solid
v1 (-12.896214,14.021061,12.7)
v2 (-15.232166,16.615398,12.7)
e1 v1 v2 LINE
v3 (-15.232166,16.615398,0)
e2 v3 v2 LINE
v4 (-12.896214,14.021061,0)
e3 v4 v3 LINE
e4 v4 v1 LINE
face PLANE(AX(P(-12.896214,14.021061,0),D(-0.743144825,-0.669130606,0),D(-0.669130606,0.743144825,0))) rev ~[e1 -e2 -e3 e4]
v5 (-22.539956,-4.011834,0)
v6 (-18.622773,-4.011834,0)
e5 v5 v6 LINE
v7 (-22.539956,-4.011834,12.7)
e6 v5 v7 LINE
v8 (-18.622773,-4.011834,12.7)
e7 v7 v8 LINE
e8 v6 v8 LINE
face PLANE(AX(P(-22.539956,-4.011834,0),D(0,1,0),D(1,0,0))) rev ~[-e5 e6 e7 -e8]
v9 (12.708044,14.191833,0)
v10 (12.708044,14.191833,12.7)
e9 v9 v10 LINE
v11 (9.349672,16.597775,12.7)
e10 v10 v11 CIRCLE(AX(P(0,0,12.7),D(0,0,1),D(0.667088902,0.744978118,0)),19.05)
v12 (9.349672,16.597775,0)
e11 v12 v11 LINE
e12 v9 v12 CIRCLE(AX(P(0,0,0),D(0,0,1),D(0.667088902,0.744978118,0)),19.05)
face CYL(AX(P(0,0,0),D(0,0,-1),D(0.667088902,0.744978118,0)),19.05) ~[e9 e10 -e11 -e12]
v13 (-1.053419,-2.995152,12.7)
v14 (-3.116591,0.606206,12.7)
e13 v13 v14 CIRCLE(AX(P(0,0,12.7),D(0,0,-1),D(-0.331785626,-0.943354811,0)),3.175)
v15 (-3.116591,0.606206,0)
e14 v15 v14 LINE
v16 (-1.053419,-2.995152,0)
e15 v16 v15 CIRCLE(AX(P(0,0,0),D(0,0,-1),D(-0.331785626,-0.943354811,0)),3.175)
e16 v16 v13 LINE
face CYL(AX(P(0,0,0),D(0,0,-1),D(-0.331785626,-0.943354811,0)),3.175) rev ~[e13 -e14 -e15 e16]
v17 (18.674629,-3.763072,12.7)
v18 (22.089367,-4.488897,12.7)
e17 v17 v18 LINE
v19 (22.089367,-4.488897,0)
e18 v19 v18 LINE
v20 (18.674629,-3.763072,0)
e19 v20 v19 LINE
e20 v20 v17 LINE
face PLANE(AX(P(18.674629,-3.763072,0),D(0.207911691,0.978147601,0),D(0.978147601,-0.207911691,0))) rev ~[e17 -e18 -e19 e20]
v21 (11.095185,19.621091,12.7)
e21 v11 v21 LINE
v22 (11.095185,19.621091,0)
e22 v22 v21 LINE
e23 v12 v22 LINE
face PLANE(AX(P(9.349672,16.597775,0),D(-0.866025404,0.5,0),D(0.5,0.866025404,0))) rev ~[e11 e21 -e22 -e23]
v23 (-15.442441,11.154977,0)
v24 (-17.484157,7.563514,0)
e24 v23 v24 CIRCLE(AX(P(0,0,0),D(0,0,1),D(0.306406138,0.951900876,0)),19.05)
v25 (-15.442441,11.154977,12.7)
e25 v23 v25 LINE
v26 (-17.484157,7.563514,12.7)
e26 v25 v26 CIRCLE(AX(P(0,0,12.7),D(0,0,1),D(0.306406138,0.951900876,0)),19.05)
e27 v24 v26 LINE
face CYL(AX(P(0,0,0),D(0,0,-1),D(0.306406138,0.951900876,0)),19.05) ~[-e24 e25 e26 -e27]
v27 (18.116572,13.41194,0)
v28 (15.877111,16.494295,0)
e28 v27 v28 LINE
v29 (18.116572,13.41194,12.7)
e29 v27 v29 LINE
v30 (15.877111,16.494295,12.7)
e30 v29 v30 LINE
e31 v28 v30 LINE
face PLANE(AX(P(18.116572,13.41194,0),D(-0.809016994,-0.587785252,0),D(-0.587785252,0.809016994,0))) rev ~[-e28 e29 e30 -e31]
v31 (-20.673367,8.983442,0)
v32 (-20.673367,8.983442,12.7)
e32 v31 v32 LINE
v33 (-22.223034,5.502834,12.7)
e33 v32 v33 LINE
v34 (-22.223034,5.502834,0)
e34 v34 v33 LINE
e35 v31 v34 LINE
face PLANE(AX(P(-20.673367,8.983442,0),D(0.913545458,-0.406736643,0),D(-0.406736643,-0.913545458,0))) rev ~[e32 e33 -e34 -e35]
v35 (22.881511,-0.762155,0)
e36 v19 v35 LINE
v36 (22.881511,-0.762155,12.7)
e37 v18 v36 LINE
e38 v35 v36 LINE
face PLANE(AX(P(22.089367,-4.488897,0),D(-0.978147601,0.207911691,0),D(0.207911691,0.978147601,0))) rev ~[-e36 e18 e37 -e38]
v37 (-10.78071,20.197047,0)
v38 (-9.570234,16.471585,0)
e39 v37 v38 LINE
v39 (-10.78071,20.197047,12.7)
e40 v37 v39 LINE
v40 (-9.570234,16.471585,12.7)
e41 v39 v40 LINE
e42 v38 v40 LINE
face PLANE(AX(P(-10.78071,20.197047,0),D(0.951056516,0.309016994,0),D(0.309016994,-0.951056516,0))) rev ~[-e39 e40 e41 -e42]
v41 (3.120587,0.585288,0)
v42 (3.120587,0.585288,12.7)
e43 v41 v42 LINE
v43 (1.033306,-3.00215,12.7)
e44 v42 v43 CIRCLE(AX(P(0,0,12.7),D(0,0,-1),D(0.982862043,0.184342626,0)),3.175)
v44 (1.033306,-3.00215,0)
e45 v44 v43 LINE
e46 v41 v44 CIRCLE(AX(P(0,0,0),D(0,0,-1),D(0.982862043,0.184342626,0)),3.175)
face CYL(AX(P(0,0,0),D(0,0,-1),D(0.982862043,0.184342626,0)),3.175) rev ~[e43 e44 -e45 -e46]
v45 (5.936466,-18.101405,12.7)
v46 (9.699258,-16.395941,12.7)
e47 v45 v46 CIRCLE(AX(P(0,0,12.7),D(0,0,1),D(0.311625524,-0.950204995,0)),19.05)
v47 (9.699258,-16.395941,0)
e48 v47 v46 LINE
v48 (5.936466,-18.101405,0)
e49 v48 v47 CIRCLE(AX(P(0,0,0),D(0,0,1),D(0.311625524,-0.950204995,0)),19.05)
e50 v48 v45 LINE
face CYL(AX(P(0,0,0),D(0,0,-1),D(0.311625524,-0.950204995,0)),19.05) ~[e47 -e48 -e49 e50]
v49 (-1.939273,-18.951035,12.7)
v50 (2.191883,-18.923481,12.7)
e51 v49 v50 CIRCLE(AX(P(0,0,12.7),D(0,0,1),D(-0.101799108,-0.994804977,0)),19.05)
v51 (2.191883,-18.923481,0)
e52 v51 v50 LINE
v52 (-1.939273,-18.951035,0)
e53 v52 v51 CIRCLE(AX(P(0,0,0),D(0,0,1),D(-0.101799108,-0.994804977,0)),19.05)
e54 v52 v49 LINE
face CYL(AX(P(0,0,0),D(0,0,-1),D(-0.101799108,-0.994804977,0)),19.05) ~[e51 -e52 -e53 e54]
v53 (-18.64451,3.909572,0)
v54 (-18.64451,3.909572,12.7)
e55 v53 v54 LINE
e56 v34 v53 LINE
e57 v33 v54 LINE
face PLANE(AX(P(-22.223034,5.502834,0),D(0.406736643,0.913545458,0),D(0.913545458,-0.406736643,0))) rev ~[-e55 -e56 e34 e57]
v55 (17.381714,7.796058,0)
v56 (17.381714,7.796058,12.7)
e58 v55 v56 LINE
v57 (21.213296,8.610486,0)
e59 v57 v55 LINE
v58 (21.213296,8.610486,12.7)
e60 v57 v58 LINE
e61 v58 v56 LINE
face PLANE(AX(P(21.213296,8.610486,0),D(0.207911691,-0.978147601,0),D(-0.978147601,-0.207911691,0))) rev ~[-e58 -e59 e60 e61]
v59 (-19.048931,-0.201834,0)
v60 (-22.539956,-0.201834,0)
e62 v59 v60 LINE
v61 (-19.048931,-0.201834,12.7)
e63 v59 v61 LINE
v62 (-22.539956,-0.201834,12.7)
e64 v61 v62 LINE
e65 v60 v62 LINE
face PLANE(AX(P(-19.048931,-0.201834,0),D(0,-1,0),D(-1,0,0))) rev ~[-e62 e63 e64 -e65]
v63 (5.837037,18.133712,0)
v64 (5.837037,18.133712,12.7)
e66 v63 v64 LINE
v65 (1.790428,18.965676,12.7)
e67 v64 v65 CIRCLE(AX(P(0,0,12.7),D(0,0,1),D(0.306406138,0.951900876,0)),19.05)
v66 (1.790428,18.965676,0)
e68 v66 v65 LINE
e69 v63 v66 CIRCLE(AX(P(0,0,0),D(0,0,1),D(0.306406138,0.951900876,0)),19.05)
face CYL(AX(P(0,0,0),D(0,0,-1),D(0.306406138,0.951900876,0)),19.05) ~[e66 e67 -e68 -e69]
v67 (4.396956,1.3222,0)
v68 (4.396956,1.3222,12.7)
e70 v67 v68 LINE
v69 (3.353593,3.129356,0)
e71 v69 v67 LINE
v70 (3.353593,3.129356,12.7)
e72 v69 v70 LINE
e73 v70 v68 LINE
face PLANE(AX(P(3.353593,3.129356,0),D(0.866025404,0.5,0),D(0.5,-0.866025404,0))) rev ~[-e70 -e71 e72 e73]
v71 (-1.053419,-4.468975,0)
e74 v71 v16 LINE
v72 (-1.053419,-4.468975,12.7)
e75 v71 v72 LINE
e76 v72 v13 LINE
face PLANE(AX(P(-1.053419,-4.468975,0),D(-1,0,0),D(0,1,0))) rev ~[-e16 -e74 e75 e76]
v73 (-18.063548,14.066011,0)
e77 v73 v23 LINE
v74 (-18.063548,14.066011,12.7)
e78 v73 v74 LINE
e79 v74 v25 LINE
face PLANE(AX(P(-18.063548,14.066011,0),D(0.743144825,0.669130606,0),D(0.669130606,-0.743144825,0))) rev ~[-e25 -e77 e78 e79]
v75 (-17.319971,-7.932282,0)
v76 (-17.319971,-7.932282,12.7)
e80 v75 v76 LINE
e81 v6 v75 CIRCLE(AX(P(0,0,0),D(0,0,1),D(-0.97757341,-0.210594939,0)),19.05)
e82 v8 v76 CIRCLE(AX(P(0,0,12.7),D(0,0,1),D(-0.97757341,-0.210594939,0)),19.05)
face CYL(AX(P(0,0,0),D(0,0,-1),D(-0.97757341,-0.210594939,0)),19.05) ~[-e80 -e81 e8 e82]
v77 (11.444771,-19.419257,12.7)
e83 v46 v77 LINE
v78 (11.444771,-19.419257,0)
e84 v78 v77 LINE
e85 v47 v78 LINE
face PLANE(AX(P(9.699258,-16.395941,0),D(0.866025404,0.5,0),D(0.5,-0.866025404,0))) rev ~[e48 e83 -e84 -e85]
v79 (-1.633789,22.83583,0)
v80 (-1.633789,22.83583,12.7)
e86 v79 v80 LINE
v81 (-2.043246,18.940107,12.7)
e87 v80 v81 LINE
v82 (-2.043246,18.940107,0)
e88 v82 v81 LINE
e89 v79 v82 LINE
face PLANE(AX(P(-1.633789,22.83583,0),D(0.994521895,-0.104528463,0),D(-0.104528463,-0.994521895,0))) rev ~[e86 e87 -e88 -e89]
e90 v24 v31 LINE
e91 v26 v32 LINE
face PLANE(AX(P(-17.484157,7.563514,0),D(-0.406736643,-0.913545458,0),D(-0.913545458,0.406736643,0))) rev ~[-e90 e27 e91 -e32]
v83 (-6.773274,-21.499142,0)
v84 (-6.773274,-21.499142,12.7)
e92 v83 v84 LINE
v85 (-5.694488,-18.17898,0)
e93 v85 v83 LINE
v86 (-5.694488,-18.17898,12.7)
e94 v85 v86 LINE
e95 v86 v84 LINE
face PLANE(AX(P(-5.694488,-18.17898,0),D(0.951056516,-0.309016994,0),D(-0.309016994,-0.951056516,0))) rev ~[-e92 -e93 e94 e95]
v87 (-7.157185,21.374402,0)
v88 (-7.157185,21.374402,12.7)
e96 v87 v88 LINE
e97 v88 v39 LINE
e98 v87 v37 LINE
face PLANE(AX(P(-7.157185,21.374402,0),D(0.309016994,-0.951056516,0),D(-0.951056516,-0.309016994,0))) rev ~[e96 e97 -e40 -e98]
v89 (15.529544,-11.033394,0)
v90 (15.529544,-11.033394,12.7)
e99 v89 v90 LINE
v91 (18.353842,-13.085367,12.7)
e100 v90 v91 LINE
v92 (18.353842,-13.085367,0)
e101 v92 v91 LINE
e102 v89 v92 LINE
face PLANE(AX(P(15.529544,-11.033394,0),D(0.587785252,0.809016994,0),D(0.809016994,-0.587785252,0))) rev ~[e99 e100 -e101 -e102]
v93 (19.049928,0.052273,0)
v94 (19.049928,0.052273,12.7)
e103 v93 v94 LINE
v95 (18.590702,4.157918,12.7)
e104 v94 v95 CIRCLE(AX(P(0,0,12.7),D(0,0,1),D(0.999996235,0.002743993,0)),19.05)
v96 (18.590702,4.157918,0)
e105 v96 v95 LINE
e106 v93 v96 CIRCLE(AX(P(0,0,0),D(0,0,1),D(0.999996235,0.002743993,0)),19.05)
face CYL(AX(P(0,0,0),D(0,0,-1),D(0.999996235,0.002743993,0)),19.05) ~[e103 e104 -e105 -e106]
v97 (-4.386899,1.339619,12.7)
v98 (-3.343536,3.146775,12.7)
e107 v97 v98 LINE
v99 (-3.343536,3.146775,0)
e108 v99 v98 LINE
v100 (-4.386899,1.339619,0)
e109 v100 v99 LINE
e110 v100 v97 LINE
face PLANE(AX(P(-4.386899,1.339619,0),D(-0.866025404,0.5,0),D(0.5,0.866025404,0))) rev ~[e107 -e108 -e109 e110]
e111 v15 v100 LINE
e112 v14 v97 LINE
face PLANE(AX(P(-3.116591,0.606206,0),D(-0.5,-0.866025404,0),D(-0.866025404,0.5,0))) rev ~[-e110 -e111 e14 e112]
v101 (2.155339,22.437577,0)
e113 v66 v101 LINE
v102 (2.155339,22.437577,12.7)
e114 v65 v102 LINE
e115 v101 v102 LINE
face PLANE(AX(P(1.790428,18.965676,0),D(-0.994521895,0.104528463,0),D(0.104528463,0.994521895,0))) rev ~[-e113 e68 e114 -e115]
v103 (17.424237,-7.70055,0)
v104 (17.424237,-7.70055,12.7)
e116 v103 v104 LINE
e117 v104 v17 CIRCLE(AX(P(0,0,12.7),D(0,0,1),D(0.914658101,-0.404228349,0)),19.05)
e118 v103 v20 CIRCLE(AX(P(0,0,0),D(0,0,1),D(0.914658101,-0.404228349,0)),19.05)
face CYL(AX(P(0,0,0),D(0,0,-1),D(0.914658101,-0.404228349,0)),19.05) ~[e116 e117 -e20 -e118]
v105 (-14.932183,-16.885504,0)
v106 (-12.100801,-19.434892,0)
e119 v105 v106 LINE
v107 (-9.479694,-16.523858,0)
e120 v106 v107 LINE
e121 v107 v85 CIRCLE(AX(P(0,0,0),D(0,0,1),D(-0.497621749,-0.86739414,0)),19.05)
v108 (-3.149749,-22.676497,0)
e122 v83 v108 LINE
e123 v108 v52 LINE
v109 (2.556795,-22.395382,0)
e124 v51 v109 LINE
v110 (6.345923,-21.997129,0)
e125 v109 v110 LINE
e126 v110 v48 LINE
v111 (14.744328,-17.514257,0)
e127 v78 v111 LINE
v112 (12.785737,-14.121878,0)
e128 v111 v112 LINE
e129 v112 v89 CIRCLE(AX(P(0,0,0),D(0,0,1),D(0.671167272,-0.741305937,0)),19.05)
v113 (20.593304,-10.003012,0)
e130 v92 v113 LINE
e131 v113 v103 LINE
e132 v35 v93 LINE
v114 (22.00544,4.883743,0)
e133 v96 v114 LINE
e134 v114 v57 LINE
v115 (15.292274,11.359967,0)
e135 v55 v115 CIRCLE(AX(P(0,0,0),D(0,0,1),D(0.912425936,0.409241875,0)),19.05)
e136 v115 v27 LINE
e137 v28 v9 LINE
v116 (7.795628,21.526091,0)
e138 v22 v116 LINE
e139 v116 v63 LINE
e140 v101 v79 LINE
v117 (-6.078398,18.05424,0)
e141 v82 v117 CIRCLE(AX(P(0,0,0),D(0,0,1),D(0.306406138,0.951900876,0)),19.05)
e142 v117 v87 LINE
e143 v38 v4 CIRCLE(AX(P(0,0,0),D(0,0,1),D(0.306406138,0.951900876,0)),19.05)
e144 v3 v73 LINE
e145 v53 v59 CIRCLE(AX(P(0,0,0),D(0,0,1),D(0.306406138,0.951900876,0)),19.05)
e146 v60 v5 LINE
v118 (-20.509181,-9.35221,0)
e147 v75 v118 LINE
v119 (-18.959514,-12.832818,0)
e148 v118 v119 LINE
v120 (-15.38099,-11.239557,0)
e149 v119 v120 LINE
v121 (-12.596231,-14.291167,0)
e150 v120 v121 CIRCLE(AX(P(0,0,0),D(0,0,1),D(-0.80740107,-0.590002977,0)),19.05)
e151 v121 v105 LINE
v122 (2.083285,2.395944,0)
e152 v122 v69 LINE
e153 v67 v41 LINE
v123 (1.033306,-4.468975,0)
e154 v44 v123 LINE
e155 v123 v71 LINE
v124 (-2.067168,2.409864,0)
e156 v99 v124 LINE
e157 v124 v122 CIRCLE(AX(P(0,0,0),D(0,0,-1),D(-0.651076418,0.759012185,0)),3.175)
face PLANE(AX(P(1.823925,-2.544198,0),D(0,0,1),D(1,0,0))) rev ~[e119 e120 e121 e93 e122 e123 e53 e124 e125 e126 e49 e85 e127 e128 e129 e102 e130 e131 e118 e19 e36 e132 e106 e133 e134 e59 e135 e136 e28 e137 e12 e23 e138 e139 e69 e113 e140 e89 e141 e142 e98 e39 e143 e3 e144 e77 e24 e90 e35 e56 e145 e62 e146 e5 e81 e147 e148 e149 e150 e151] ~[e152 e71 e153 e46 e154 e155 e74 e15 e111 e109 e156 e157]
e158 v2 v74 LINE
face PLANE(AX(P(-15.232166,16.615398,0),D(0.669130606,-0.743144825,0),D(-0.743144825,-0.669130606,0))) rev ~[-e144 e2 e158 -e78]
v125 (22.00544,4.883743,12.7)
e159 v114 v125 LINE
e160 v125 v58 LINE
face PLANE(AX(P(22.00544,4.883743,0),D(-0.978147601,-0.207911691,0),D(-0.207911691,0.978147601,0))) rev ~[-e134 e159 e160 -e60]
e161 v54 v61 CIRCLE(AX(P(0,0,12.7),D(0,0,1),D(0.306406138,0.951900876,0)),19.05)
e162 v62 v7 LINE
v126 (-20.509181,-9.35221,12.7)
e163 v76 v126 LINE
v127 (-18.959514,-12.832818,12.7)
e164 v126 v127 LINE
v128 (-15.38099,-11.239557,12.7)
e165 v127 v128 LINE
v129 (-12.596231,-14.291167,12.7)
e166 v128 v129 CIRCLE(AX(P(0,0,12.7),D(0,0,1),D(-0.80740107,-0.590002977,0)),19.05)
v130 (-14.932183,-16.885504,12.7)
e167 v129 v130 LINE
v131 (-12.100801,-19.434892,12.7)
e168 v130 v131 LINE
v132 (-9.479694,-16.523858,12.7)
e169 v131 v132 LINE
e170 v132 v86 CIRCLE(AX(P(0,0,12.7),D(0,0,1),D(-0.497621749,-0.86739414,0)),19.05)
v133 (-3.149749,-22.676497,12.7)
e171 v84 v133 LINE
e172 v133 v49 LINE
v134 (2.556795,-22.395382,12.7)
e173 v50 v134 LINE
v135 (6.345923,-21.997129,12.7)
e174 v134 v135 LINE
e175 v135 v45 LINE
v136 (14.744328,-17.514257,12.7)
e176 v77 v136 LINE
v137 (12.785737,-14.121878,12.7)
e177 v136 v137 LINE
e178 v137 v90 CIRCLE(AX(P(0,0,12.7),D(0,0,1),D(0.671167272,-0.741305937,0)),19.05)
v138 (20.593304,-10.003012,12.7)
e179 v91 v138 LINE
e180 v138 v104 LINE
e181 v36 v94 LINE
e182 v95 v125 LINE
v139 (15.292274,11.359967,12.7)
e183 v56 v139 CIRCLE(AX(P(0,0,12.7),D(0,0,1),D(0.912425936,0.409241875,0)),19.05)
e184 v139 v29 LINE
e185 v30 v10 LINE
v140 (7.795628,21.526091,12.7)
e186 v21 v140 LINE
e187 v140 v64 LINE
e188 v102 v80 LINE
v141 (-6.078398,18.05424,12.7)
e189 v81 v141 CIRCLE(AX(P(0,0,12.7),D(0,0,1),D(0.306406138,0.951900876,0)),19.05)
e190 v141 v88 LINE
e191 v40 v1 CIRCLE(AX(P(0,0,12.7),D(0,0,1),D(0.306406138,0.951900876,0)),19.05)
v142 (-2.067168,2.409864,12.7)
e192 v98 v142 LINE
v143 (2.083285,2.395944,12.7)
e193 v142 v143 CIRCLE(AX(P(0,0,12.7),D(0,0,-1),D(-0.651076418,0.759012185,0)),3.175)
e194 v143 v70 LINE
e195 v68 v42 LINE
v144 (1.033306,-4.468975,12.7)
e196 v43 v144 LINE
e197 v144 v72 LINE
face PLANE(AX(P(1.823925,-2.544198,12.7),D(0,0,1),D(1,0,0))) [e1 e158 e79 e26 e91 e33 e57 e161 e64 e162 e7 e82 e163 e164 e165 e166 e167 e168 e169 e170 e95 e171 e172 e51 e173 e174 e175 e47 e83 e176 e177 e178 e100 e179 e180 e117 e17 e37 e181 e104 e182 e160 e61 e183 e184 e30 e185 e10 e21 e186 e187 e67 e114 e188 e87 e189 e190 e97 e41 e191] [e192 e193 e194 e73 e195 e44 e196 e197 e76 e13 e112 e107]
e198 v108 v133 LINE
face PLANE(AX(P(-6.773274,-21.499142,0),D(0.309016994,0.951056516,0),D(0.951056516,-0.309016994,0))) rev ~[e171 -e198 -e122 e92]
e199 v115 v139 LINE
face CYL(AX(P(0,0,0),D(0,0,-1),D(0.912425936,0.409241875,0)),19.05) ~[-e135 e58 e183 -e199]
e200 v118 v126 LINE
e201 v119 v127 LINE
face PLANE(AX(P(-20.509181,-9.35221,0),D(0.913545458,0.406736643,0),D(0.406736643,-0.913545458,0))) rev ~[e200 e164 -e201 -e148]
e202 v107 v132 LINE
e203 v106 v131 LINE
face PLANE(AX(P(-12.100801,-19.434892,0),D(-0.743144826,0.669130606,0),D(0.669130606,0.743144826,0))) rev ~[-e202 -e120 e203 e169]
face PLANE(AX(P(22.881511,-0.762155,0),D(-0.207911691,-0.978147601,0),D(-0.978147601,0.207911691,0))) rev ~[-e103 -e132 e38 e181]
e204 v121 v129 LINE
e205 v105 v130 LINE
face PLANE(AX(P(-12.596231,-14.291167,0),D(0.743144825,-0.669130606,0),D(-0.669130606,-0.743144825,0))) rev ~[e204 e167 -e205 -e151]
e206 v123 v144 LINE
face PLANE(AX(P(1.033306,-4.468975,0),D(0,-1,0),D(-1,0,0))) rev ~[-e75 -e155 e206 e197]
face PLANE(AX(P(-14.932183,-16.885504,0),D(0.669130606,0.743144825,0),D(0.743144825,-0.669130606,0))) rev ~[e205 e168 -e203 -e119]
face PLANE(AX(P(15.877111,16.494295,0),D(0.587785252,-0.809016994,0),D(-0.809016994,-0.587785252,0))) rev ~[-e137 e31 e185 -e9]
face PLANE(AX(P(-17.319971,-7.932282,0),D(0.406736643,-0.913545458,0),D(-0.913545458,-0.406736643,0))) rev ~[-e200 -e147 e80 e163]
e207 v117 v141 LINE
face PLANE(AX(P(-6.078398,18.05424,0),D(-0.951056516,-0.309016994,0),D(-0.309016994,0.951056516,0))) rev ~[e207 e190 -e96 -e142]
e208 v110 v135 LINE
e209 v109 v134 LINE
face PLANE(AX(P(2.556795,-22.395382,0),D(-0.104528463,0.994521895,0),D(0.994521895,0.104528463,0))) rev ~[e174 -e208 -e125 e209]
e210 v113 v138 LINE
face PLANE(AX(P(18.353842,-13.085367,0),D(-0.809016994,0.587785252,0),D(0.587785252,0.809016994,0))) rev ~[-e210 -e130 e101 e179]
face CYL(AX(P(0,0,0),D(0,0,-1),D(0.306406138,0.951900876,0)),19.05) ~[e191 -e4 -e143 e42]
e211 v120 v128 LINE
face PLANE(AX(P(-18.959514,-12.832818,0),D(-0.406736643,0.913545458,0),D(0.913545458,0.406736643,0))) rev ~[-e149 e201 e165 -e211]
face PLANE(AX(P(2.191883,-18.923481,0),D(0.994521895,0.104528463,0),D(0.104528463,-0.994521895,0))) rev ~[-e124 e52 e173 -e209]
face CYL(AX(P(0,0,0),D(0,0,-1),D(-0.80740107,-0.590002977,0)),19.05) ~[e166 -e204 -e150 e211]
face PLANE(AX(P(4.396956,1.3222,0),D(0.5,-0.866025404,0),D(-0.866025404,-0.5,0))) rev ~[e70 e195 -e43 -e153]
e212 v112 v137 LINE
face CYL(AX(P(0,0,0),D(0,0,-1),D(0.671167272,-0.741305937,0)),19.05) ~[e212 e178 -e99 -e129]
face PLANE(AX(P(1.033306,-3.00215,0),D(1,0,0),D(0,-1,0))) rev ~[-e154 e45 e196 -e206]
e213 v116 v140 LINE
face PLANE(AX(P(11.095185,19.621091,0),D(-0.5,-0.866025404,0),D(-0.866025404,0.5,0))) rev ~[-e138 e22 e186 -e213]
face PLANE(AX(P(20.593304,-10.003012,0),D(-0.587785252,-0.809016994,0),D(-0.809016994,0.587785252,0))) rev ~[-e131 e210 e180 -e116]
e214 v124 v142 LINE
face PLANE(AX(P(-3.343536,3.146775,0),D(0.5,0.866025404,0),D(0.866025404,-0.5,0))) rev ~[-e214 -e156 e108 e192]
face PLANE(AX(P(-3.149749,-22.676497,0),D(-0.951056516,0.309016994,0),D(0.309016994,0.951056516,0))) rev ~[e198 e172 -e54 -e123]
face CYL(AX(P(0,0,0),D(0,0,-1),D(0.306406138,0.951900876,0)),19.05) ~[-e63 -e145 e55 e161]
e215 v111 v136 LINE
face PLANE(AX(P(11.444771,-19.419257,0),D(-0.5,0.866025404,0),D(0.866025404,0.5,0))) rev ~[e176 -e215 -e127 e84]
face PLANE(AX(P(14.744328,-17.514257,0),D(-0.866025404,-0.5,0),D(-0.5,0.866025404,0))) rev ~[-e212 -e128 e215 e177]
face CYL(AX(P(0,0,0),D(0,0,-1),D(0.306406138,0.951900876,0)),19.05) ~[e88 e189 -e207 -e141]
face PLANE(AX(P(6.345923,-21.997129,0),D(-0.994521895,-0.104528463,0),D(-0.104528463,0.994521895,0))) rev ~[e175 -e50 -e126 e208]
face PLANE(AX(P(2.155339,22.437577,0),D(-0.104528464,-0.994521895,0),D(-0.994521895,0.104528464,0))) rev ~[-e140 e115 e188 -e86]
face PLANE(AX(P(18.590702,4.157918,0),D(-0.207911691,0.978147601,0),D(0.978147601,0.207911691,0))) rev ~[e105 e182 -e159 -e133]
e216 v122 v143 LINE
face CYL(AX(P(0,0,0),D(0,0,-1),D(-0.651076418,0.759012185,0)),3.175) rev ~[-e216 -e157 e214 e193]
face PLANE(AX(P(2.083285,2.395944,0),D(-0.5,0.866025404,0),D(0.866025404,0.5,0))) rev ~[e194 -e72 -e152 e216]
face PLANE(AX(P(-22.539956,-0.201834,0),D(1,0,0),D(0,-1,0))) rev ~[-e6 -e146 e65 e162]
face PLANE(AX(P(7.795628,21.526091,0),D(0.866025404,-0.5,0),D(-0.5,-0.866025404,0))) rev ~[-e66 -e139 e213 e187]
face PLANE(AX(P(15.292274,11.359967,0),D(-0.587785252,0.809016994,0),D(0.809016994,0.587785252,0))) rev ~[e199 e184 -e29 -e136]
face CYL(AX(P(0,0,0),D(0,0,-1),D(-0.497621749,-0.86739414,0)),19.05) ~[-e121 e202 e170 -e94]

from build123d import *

# Parameters (mm, degrees)
EXTRUSION3_DEPTH = 12.7


with BuildPart() as part:
    # Sketch1 → Extrusion3 (new body)
    with BuildSketch(Plane.XY):
        with BuildLine():
            Line((21.213296498, 8.610485701), (17.381714073, 7.796057715))
            ThreePointArc((17.381714073, 7.796057715), (16.433889851, 9.634820412), (15.292273906, 11.359967376))
            Line((15.292273906, 11.359967376), (18.116572419, 13.411940358))
            Line((18.116572419, 13.411940358), (15.877110608, 16.494295106))
            Line((15.877110608, 16.494295106), (12.708043593, 14.191833146))
            ThreePointArc((12.708043593, 14.191833146), (11.094270913, 15.486111613), (9.349672368, 16.597774749))
            Line((9.349672368, 16.597774749), (11.095184843, 19.621091042))
            Line((11.095184843, 19.621091042), (7.795628055, 21.526091042))
            Line((7.795628055, 21.526091042), (5.837036927, 18.133711697))
            ThreePointArc((5.837036927, 18.133711697), (-11.299849109, 15.336750311), (-19.048930763, -0.201833587))
            Line((-19.048930763, -0.201833587), (-22.539955714, -0.201833587))
            Line((-22.539955714, -0.201833587), (-22.539955714, -4.011833587))
            Line((-22.539955714, -4.011833587), (-18.622773458, -4.011833587))
            ThreePointArc((-18.622773458, -4.011833587), (-18.077961731, -6.007478644), (-17.319971056, -7.932282309))
            Line((-17.319971056, -7.932282309), (-20.509181042, -9.352210079))
            Line((-20.509181042, -9.352210079), (-18.959514432, -12.832818272))
            Line((-18.959514432, -12.832818272), (-15.380990376, -11.239556711))
            ThreePointArc((-15.380990376, -11.239556711), (-14.071578126, -12.841074295), (-12.596231006, -14.291167358))
            Line((-12.596231006, -14.291167358), (-14.932182648, -16.885504485))
            Line((-14.932182648, -16.885504485), (-12.100800863, -19.434892096))
            Line((-12.100800863, -19.434892096), (-9.479694325, -16.523858372))
            ThreePointArc((-9.479694325, -16.523858372), (-7.632090826, -17.454331543), (-5.694488182, -18.178979739))
            Line((-5.694488182, -18.178979739), (-6.77327422, -21.499141767))
            Line((-6.77327422, -21.499141767), (-3.149748893, -22.676496515))
            Line((-3.149748893, -22.676496515), (-1.939273006, -18.951034806))
            ThreePointArc((-1.939273006, -18.951034806), (0.127054312, -19.0495763), (2.191883381, -18.923481372))
            Line((2.191883381, -18.923481372), (2.556794854, -22.395382123))
            Line((2.556794854, -22.395382123), (6.345923276, -21.997128678))
            Line((6.345923276, -21.997128678), (5.936466234, -18.101405157))
            ThreePointArc((5.936466234, -18.101405157), (7.864230606, -17.350976254), (9.699258395, -16.395941162))
            Line((9.699258395, -16.395941162), (11.44477087, -19.419257455))
            Line((11.44477087, -19.419257455), (14.744327659, -17.514257455))
            Line((14.744327659, -17.514257455), (12.785736531, -14.12187811))
            ThreePointArc((12.785736531, -14.12187811), (14.241609984, -12.652234785), (15.529543518, -11.033393772))
            Line((15.529543518, -11.033393772), (18.353842031, -13.085366754))
            Line((18.353842031, -13.085366754), (20.593303842, -10.003012005))
            Line((20.593303842, -10.003012005), (17.424236827, -7.700550045))
            ThreePointArc((17.424236827, -7.700550045), (18.156485614, -5.76580698), (18.674629484, -3.763072364))
            Line((18.674629484, -3.763072364), (22.089367164, -4.488897265))
            Line((22.089367164, -4.488897265), (22.881510706, -0.762154906))
            Line((22.881510706, -0.762154906), (19.049928281, 0.05227308))
            ThreePointArc((19.049928281, 0.05227308), (18.931939936, 2.117581232), (18.59070236, 4.157918442))
            Line((18.59070236, 4.157918442), (22.00544004, 4.883743342))
            Line((22.00544004, 4.883743342), (21.213296498, 8.610485701))
        make_face()
        with BuildLine():
            Line((-3.343536182, 3.146775418), (-2.067167627, 2.409863689))
            ThreePointArc((-2.067167627, 2.409863689), (0.010648283, 3.174982144), (2.083285387, 2.395943863))
            Line((2.083285387, 2.395943863), (3.353593084, 3.129356353))
            Line((3.353593084, 3.129356353), (4.396955543, 1.322199563))
            Line((4.396955543, 1.322199563), (3.120586988, 0.585287835))
            ThreePointArc((3.120586988, 0.585287835), (2.744291052, -1.596712756), (1.033305558, -3.00215))
            Line((1.033305558, -3.00215), (1.033305558, -4.468974981))
            Line((1.033305558, -4.468974981), (-1.053419361, -4.468974981))
            Line((-1.053419361, -4.468974981), (-1.053419361, -2.995151524))
            ThreePointArc((-1.053419361, -2.995151524), (-2.754939335, -1.578269388), (-3.116590945, 0.606206137))
            Line((-3.116590945, 0.606206137), (-4.386898641, 1.339618628))
            Line((-4.386898641, 1.339618628), (-3.343536182, 3.146775418))
        make_face(mode=Mode.SUBTRACT)
        with BuildLine():
            Line((-1.63378941, 22.835830278), (-2.043246451, 18.940106756))
            ThreePointArc((-2.043246451, 18.940106756), (-0.127054312, 19.0495763), (1.790427538, 18.965676082))
            Line((1.790427538, 18.965676082), (2.155339011, 22.437576832))
            Line((2.155339011, 22.437576832), (-1.63378941, 22.835830278))
        make_face()
        with BuildLine():
            Line((-10.780709843, 20.197047001), (-9.570233956, 16.471585292))
            ThreePointArc((-9.570233956, 16.471585292), (-7.864230606, 17.350976254), (-6.078398478, 18.054239722))
            Line((-6.078398478, 18.054239722), (-7.157184516, 21.37440175))
            Line((-7.157184516, 21.37440175), (-10.780709843, 20.197047001))
        make_face()
        with BuildLine():
            Line((-18.063547605, 14.066010814), (-15.442441067, 11.154977091))
            ThreePointArc((-15.442441067, 11.154977091), (-14.241609984, 12.652234785), (-12.896214177, 14.021061297))
            Line((-12.896214177, 14.021061297), (-15.23216582, 16.615398425))
            Line((-15.23216582, 16.615398425), (-18.063547605, 14.066010814))
        make_face()
        with BuildLine():
            Line((-22.223033883, 5.502833572), (-18.644509827, 3.909572011))
            ThreePointArc((-18.644509827, 3.909572011), (-18.156485614, 5.76580698), (-17.484157287, 7.563513996))
            Line((-17.484157287, 7.563513996), (-20.673367273, 8.983441766))
            Line((-20.673367273, 8.983441766), (-22.223033883, 5.502833572))
        make_face()
    extrude(amount=EXTRUSION3_DEPTH)


solid = part.part
